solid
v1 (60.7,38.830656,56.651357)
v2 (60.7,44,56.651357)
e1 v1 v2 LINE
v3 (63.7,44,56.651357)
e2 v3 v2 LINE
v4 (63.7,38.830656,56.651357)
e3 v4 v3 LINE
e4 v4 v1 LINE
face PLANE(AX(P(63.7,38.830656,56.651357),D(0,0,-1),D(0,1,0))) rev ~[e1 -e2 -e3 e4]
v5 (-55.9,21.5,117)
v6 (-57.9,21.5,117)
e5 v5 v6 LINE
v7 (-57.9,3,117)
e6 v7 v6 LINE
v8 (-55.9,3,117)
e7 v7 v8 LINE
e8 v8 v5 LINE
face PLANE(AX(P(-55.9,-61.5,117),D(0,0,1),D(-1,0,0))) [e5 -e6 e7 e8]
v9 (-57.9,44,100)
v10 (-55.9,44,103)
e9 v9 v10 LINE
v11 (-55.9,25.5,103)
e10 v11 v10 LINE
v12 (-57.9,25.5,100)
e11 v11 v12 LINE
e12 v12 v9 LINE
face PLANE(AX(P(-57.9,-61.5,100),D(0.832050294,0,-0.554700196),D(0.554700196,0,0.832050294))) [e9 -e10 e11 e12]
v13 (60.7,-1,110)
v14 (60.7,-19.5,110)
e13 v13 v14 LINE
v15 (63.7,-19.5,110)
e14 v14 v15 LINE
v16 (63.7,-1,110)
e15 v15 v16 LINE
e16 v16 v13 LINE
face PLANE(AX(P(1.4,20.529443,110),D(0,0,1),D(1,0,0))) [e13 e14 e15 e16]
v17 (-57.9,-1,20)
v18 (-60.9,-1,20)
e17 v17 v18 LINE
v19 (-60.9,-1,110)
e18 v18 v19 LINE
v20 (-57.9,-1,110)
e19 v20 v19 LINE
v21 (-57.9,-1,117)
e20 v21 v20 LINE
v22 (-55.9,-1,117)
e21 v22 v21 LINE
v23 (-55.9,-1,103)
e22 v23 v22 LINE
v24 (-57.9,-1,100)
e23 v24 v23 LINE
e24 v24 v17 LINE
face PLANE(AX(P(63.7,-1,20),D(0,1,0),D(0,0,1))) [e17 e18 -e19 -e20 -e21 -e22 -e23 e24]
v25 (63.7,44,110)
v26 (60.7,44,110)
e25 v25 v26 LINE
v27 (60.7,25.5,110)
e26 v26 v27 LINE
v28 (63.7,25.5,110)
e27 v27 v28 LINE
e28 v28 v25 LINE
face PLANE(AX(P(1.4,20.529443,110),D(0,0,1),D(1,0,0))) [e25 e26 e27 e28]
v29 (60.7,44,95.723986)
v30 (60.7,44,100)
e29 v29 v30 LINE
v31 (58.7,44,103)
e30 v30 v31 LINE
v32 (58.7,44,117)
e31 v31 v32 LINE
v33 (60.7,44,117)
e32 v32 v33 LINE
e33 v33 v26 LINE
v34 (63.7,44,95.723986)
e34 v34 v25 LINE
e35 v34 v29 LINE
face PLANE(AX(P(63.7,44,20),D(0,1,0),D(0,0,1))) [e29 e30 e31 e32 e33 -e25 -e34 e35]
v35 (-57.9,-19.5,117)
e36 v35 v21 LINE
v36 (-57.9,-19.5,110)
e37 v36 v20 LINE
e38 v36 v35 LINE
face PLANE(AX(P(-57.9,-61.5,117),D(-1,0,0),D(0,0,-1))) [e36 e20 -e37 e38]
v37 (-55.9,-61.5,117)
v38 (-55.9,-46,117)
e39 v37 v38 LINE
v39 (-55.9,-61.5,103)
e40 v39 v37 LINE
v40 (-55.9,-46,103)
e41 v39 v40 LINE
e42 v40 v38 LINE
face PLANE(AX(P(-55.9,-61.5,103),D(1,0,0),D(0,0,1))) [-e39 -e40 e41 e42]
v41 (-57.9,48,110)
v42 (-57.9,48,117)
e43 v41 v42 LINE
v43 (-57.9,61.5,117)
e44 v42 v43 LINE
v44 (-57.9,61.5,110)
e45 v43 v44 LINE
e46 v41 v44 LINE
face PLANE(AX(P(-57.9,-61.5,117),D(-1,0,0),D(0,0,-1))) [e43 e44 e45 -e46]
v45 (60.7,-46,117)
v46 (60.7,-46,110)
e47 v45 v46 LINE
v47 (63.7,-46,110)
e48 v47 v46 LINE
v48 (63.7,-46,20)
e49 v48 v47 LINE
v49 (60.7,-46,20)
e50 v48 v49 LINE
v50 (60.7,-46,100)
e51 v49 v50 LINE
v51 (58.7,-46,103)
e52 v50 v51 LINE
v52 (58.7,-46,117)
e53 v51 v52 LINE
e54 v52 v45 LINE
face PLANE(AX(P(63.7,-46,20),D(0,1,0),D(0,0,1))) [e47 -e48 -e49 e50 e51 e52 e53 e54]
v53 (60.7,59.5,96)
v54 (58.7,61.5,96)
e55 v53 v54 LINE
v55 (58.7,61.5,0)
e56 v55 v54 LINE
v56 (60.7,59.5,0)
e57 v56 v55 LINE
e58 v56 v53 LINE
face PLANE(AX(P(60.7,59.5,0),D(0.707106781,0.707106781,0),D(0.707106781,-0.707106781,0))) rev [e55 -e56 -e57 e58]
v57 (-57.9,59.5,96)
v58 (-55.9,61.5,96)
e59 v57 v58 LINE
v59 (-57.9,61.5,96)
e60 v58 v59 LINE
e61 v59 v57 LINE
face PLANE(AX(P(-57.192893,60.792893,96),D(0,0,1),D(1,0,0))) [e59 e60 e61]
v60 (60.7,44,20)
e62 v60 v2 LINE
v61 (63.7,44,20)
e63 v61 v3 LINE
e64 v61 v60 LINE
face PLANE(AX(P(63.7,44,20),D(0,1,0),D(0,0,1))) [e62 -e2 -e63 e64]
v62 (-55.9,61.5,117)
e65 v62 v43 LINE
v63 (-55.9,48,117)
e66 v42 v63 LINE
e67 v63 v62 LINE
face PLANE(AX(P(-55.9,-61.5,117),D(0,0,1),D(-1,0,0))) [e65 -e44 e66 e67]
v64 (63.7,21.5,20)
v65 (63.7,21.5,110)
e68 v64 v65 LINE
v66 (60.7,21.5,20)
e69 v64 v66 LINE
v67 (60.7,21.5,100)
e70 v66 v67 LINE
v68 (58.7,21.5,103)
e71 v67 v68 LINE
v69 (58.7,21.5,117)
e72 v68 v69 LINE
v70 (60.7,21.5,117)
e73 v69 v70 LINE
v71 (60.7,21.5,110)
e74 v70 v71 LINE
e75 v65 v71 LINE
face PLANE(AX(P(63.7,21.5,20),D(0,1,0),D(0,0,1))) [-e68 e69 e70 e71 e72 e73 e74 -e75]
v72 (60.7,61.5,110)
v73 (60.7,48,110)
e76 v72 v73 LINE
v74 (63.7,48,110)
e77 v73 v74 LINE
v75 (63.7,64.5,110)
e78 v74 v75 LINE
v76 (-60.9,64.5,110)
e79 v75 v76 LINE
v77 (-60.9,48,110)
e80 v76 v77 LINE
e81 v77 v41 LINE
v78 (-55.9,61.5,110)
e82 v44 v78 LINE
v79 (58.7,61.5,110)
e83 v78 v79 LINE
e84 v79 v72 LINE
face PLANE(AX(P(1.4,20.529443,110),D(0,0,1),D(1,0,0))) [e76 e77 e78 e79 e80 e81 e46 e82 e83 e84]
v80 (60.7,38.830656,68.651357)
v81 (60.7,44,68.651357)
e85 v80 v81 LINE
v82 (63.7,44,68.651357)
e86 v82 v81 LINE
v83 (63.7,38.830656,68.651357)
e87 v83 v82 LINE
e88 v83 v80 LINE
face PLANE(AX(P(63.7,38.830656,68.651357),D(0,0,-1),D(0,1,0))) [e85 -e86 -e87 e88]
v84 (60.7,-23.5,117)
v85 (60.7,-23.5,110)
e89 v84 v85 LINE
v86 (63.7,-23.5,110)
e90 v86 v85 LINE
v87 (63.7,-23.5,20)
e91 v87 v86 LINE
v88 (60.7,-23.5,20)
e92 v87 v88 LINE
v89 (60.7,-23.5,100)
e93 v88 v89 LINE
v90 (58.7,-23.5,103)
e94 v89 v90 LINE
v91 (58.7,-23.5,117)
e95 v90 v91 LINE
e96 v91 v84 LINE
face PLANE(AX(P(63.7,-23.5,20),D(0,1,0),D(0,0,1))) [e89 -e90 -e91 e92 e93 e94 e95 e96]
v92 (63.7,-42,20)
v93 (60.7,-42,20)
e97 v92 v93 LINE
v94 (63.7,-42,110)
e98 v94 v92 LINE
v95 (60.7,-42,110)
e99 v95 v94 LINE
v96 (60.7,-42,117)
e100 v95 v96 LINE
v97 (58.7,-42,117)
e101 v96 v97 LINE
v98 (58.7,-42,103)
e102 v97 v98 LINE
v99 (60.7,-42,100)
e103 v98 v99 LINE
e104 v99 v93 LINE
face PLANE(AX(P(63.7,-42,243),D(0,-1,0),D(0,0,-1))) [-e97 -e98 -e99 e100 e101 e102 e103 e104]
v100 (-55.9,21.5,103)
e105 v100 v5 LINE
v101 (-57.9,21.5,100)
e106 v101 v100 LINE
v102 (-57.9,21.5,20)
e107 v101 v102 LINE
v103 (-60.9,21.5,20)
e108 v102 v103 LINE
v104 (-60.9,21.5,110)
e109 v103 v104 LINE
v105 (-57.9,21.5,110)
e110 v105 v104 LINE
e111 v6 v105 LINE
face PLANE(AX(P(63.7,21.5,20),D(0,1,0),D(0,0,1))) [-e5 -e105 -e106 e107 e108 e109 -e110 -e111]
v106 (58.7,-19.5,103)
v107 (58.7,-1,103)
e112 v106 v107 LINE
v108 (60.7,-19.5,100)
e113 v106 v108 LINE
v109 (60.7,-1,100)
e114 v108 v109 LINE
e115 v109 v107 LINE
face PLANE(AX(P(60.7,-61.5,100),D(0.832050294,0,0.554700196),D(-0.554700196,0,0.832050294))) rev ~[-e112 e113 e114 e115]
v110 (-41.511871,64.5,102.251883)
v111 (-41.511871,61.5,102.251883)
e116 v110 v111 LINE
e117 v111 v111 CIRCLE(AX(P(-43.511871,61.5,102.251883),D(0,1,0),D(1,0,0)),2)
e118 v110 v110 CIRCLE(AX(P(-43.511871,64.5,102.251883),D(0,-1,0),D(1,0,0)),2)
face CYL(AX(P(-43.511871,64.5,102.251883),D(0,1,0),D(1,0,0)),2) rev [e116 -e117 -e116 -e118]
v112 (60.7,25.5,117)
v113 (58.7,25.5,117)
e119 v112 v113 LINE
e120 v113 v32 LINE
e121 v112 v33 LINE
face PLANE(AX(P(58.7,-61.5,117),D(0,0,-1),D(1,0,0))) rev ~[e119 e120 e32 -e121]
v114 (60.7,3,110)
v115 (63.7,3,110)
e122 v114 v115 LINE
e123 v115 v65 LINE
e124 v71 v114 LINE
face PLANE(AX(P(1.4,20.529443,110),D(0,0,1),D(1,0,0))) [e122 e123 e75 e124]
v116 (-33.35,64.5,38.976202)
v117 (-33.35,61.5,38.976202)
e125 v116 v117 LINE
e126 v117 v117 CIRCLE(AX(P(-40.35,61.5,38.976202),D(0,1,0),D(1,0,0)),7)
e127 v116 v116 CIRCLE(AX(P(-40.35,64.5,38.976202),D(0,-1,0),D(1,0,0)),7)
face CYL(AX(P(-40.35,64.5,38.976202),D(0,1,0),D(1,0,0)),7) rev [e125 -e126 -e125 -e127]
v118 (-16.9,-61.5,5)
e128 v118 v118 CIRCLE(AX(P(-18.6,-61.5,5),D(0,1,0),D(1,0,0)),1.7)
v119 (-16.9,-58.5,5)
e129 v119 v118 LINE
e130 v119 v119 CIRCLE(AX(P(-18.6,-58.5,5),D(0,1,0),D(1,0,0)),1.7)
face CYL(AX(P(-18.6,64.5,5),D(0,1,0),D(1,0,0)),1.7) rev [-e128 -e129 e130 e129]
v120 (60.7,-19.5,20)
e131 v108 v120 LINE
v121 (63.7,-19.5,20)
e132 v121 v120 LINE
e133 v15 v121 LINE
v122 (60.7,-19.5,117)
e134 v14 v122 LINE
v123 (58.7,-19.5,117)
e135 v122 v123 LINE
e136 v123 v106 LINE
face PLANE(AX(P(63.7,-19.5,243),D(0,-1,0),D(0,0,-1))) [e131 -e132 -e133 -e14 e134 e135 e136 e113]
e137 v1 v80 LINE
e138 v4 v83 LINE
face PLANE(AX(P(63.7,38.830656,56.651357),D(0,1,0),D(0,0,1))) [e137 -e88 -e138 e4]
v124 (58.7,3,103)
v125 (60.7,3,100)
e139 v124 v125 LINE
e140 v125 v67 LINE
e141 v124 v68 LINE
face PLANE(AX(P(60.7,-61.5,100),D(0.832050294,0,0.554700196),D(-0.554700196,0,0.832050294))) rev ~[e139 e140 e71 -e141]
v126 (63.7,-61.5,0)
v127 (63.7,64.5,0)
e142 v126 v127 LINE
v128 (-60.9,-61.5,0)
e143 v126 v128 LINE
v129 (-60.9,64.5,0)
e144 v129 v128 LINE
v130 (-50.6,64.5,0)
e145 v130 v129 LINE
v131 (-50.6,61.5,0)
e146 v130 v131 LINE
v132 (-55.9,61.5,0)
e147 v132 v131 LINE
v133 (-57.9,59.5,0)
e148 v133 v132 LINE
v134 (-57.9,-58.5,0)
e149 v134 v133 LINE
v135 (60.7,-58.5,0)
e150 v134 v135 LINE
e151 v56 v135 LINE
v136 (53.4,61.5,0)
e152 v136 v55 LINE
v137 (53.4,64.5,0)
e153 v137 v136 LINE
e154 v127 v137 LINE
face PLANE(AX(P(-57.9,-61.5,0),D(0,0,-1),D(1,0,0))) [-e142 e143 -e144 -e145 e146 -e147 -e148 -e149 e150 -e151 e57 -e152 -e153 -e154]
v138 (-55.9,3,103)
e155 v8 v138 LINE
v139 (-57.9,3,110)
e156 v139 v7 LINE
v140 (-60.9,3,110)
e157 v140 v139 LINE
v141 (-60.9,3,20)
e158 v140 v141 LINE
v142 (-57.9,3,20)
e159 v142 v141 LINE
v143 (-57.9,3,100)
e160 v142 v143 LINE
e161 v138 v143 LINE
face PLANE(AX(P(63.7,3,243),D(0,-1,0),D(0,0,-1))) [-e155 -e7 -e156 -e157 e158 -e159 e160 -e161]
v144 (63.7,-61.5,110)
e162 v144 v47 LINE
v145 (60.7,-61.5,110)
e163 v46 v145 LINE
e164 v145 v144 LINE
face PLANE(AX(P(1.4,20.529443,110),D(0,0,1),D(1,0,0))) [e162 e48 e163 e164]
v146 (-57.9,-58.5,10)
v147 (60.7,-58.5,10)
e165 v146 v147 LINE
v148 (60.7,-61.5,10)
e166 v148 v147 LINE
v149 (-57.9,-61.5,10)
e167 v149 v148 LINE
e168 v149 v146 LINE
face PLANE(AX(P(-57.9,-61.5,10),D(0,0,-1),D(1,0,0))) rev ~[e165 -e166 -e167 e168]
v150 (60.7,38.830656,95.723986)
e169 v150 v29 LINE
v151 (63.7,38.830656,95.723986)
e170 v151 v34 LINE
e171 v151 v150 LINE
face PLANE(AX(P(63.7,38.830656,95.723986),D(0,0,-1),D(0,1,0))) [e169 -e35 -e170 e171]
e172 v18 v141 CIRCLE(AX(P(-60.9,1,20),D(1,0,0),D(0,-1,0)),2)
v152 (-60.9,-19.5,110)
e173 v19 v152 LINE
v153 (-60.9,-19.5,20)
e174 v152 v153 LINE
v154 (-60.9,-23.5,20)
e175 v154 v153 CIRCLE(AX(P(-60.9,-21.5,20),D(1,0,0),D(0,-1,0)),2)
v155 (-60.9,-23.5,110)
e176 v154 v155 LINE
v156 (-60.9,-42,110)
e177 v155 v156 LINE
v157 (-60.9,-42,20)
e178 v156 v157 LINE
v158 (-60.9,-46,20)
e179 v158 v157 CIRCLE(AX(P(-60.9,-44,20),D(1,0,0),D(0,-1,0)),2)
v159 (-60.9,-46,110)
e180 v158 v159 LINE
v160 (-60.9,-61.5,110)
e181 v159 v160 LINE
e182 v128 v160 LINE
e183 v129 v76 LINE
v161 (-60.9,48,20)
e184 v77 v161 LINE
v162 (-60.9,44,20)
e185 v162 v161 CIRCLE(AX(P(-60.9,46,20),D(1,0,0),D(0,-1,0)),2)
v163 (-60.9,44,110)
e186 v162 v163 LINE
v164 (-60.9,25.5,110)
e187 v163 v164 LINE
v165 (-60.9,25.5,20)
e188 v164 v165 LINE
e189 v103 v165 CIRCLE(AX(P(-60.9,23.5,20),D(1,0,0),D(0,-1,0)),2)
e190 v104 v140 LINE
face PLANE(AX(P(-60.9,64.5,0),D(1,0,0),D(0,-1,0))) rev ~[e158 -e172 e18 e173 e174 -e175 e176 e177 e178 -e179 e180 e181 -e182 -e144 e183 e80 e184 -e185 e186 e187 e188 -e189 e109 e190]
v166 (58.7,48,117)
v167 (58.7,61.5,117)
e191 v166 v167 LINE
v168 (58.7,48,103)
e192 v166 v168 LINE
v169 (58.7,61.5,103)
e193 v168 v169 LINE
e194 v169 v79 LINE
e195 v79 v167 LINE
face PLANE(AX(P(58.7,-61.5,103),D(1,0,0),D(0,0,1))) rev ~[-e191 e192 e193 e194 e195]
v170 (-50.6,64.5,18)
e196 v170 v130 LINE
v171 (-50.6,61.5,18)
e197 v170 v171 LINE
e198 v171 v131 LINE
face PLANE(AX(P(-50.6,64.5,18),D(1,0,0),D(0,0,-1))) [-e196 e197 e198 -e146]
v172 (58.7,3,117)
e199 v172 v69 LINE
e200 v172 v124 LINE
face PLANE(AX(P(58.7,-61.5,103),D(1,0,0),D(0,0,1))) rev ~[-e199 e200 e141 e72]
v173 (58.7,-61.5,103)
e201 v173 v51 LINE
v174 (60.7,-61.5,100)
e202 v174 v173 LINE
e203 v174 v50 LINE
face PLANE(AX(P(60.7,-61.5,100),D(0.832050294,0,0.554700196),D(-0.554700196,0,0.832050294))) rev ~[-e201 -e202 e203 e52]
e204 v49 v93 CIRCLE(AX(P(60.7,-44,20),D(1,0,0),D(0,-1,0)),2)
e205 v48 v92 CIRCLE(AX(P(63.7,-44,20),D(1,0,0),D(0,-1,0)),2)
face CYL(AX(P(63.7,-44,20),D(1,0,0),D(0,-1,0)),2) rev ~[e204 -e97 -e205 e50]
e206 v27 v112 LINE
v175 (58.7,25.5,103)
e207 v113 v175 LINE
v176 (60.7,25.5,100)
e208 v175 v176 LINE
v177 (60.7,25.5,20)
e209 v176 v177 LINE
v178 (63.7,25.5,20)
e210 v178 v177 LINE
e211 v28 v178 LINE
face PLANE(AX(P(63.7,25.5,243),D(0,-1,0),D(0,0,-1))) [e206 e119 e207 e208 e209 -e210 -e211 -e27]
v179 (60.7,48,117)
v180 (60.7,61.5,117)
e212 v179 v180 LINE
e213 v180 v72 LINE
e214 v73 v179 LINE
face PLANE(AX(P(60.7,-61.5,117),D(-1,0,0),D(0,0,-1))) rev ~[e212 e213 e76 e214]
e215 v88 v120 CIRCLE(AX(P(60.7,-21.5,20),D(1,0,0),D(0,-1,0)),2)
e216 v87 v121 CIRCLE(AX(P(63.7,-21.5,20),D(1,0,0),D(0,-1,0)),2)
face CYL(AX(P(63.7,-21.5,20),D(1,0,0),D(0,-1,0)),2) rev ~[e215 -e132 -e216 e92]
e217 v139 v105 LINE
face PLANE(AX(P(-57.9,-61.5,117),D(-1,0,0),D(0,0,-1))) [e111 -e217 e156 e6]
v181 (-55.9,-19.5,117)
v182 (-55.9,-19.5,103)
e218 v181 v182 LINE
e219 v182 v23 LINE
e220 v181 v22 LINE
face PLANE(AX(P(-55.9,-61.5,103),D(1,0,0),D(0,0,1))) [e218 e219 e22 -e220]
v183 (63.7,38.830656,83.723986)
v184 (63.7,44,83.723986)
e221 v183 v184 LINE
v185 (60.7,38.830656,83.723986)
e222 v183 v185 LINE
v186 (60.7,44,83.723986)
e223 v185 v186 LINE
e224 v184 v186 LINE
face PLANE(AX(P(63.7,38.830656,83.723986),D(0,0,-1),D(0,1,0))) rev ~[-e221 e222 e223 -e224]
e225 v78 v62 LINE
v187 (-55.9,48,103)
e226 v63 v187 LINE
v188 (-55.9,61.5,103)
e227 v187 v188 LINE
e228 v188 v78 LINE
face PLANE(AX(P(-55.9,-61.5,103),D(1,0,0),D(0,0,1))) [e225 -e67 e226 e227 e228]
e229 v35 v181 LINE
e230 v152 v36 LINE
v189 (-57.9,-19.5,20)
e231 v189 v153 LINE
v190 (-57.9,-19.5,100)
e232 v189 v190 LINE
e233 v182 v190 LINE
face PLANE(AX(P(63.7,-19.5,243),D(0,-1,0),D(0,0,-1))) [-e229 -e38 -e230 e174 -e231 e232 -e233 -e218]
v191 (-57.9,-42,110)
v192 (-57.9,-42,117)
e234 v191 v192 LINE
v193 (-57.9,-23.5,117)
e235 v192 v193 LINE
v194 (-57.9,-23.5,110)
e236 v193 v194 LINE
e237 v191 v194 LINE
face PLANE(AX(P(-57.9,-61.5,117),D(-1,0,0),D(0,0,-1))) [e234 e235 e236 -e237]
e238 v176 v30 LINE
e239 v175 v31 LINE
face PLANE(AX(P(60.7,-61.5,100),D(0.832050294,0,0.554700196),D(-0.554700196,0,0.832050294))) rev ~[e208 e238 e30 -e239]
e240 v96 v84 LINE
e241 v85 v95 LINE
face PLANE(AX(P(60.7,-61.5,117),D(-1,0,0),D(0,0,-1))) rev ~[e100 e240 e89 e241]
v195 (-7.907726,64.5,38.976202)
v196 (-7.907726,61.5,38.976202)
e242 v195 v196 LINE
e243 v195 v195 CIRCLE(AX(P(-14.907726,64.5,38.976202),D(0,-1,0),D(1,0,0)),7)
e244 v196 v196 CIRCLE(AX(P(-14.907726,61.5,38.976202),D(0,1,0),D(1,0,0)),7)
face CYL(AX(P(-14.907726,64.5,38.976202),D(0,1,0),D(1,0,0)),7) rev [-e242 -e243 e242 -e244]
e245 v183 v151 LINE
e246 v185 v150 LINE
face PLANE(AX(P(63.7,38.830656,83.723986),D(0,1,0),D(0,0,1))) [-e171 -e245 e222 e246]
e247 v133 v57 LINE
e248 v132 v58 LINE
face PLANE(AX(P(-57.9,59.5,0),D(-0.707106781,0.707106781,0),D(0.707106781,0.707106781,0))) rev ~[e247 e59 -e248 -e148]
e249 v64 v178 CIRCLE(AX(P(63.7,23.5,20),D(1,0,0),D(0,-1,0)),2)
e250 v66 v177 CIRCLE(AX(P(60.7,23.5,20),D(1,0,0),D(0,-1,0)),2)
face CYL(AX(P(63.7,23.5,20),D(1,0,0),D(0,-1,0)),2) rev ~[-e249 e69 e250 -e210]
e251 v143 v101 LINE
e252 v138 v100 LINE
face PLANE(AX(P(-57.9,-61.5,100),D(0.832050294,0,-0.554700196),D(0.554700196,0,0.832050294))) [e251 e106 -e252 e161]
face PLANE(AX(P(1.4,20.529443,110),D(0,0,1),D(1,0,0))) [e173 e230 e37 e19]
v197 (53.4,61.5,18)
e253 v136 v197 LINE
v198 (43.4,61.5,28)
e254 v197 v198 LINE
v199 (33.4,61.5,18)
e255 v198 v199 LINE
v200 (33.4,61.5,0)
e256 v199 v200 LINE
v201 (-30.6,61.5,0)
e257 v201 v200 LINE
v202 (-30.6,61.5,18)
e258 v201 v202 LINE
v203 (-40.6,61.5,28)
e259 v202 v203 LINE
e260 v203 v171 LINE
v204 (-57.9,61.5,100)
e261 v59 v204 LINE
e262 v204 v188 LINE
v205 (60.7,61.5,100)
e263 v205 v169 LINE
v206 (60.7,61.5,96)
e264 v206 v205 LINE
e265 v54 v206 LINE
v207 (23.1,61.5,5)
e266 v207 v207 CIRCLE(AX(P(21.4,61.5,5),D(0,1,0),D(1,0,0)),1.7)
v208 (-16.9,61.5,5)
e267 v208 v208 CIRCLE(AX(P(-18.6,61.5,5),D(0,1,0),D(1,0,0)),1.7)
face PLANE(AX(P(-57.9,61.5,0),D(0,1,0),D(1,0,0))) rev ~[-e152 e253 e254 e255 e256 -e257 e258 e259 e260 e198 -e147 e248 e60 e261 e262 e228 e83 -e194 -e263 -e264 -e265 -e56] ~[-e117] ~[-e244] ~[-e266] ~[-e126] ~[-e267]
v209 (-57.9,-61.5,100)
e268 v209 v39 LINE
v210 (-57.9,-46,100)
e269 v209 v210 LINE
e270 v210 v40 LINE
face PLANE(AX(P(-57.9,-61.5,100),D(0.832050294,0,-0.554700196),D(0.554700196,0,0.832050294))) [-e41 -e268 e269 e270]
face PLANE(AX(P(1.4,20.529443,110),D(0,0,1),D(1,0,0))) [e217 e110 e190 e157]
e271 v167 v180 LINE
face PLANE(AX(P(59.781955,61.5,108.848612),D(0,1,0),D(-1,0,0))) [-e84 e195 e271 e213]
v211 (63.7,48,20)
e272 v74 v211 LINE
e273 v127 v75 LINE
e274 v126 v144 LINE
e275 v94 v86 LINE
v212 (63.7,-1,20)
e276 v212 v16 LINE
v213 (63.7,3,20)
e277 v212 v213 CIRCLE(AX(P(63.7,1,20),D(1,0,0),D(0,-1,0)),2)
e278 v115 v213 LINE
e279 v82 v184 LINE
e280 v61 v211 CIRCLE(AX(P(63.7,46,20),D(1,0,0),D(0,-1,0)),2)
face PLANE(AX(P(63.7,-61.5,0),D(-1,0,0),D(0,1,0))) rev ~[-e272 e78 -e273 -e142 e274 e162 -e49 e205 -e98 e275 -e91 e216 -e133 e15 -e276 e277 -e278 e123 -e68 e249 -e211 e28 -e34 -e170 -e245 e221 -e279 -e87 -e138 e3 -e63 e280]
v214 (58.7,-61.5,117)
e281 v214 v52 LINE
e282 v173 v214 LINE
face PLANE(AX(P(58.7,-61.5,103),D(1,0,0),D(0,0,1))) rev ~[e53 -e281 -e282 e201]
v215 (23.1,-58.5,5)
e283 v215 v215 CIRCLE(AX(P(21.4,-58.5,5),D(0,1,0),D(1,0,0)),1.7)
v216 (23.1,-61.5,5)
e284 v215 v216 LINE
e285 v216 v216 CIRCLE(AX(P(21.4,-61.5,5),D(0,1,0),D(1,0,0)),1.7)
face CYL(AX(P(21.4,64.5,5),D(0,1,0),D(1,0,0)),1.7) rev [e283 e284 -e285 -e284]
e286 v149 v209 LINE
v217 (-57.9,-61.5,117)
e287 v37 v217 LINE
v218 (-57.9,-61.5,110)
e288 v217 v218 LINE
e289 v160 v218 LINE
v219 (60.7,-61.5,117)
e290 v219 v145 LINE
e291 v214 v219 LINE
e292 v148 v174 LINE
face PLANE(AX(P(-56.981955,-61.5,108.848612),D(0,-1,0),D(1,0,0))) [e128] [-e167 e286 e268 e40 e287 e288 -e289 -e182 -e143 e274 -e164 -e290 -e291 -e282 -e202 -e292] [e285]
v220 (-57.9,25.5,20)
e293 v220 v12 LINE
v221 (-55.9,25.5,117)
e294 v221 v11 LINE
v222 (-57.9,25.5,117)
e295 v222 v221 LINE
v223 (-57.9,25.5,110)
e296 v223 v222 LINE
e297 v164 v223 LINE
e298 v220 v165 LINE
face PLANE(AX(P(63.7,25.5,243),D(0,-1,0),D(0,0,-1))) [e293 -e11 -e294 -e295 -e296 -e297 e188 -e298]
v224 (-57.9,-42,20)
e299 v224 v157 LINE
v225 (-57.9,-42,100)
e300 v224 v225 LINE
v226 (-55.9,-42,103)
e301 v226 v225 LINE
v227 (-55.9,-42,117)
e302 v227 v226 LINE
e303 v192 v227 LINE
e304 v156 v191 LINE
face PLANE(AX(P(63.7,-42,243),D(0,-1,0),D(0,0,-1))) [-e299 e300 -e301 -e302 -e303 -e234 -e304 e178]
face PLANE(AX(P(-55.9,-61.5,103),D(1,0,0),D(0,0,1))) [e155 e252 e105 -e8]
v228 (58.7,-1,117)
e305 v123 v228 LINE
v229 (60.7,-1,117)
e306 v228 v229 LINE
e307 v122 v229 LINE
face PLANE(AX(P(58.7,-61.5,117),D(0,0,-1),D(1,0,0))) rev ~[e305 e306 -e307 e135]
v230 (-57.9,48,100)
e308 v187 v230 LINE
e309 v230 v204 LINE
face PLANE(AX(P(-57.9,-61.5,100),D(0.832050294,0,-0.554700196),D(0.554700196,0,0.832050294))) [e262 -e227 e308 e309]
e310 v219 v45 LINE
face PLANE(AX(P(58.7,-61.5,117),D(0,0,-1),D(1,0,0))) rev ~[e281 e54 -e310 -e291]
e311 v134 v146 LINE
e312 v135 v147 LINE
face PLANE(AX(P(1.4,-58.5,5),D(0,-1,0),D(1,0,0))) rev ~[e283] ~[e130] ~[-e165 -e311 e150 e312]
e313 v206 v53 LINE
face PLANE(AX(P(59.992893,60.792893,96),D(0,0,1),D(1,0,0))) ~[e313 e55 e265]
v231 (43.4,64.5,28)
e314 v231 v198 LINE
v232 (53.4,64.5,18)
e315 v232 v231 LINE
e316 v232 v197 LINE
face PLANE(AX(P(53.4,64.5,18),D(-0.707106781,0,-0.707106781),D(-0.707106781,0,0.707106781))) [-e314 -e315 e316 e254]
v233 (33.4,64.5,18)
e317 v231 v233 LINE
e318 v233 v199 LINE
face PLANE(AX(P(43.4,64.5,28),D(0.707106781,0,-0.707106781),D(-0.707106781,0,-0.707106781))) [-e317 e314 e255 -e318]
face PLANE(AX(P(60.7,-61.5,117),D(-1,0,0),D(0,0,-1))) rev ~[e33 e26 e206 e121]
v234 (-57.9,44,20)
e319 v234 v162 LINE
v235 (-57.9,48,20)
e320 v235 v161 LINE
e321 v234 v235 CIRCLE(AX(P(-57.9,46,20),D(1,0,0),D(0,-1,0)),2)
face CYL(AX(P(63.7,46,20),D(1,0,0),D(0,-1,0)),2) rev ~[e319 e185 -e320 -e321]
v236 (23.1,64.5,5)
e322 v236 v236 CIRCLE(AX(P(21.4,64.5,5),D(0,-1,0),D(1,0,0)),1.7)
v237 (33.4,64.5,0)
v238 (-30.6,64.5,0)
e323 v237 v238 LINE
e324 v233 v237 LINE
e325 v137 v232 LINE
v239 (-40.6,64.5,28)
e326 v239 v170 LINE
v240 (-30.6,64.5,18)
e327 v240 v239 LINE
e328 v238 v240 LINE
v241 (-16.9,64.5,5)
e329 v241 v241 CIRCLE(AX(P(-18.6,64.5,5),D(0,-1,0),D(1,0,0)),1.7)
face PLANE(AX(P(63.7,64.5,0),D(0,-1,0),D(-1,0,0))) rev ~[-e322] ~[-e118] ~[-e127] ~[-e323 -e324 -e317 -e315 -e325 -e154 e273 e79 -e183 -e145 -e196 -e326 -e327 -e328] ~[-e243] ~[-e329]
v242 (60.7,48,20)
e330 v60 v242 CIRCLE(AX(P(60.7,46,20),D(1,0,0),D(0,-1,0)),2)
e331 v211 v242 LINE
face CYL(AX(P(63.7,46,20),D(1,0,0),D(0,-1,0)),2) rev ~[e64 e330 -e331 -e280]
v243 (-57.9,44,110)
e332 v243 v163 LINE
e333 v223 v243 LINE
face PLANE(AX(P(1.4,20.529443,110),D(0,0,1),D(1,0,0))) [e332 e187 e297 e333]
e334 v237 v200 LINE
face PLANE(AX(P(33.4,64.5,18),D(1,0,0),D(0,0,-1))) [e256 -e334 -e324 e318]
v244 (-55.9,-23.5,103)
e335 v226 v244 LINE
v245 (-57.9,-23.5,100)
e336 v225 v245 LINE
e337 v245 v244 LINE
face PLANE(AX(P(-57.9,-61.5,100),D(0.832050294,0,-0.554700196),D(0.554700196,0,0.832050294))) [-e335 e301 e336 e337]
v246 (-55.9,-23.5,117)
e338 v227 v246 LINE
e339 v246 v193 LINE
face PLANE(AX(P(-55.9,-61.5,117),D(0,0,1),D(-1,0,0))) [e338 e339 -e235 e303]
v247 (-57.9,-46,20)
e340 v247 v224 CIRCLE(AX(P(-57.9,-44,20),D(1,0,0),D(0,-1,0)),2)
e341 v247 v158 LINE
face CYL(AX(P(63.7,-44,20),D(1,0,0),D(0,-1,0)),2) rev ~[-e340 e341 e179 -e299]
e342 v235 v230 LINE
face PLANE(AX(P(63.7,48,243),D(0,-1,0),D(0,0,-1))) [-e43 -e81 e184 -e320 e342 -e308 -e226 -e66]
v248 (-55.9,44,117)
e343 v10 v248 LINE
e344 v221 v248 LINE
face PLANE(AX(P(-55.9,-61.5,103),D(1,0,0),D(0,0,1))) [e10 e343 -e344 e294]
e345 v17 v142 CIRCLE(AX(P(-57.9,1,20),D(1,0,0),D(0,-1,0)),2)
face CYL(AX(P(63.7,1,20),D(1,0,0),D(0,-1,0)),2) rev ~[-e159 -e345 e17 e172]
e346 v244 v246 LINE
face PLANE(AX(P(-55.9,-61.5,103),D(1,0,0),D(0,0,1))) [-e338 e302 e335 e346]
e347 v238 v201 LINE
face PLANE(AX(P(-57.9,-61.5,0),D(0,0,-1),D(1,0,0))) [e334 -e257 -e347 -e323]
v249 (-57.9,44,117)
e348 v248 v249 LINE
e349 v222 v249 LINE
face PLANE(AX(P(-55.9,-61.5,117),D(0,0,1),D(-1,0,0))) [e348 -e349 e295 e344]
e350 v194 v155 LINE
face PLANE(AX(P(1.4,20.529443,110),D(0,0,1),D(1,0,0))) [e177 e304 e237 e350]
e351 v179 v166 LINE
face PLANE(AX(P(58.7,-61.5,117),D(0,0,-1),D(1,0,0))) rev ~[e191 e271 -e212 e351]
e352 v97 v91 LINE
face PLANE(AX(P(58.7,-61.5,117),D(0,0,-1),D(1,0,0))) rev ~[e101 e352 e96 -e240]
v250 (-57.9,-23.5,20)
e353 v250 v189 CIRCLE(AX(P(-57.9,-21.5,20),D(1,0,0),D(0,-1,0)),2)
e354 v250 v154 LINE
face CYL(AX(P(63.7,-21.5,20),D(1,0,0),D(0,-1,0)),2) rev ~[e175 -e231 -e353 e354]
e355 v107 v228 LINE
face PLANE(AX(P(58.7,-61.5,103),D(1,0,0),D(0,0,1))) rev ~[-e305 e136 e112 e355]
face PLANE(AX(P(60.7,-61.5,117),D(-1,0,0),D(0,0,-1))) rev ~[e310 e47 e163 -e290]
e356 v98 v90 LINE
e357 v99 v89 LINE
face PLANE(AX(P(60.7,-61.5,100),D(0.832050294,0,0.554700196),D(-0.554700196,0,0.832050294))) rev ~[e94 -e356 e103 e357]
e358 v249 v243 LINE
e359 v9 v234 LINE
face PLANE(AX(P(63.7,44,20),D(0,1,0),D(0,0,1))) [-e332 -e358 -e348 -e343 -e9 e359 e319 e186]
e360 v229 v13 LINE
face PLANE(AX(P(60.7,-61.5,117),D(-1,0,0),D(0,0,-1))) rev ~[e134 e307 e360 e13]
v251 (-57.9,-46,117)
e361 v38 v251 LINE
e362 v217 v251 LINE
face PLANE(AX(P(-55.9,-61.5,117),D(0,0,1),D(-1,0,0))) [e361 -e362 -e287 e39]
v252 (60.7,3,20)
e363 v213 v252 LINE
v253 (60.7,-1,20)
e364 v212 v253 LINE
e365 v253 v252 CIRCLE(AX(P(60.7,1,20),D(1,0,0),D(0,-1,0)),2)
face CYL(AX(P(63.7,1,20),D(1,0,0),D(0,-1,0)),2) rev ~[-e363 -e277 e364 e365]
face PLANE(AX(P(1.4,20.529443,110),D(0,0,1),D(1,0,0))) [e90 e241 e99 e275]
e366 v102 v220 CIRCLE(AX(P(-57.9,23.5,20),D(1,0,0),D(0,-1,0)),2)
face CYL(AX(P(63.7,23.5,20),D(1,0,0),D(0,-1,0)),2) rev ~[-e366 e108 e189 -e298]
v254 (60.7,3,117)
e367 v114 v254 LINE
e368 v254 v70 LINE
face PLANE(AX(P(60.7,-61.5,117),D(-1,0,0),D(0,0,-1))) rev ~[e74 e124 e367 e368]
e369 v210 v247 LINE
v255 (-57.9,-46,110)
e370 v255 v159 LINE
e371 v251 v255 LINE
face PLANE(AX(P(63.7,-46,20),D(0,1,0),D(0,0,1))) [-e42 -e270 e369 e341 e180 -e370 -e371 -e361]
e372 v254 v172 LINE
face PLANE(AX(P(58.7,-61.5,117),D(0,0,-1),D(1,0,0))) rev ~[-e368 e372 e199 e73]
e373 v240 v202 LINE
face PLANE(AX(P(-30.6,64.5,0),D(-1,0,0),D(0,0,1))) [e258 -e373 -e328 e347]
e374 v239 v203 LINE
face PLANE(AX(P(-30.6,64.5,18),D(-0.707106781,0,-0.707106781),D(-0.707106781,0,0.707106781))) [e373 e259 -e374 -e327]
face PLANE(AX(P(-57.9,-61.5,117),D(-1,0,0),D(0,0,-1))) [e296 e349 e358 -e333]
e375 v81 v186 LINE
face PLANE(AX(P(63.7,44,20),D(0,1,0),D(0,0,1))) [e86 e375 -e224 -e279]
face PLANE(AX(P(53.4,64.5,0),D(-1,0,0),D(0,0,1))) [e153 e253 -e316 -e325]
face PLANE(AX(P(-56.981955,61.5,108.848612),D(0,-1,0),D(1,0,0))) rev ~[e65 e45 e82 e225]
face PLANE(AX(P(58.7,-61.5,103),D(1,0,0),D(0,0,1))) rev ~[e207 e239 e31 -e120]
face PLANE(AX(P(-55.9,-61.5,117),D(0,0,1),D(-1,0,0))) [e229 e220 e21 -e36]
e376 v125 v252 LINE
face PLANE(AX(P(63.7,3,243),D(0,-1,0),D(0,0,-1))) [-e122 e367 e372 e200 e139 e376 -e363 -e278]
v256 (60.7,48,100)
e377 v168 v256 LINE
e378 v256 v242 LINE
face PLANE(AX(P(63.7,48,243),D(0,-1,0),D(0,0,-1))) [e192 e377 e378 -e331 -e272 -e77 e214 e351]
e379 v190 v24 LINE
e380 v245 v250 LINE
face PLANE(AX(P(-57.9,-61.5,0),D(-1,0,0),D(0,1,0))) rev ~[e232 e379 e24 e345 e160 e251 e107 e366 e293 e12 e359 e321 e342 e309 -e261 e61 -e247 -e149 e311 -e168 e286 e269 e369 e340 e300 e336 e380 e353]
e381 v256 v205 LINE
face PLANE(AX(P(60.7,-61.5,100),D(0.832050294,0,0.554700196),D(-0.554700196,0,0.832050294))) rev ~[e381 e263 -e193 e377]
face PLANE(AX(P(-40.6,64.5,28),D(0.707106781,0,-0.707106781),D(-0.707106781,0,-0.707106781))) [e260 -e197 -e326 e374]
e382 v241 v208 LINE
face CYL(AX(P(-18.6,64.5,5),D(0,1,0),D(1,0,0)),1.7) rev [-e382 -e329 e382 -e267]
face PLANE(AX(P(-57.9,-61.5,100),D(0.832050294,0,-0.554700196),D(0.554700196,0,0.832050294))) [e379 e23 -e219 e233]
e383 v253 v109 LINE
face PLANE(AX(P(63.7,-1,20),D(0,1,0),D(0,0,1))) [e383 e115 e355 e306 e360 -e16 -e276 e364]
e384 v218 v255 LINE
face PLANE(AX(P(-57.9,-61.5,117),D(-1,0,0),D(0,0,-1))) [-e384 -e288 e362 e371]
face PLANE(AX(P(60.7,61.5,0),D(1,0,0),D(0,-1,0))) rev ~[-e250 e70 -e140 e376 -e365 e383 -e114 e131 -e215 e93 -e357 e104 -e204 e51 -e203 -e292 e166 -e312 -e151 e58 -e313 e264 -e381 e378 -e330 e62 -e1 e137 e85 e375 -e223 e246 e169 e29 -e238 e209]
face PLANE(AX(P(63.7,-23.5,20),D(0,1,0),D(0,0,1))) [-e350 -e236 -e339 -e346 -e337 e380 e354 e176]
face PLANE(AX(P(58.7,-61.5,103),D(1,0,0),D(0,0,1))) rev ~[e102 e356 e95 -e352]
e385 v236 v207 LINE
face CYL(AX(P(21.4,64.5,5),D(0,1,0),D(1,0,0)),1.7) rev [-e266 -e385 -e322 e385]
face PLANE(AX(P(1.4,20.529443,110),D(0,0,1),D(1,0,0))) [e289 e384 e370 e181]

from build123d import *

# Parameters (mm, degrees)
PAD_DEPTH           = 110
PAD001_DEPTH        = 96
SKETCH003_W         = 118.6
SKETCH003_H         = 10
PAD002_DEPTH        = 3
PAD003_DEPTH        = 123
POCKET001_DEPTH     = 124.601
LINEARPATTERN_COUNT = 5
LINEARPATTERN_PITCH = 22.5
SKETCH012_W         = 6
SKETCH012_H         = 12
POCKET_DEPTH        = 5
SKETCH013_R         = 1.7
POCKET004_DEPTH     = 126.001
SKETCH014_R         = 7
SKETCH014_R_2       = 2
POCKET005_DEPTH     = 5


with BuildPart() as part:
    # Sketch → Pad (new body)
    with BuildSketch(Plane.XY):
        Polygon((62.3, 64.5), (-62.3, 64.5), (-62.3, -61.5), (-59.3, -61.5), (-59.3, 61.5), (59.3, 61.5), (59.3, -61.5), (62.3, -61.5), align=None)
    extrude(amount=PAD_DEPTH)

    # Sketch001 → Pad001 (join)
    with BuildSketch(Plane.XY):
        Polygon((-59.3, 59.5), (-57.3, 61.5), (-59.3, 61.5), align=None)
    pad001 = extrude(amount=PAD001_DEPTH)

    # Mirrored: Pad001 across YZ
    add(pad001.mirror(Plane.YZ))

    # Sketch003 (on DatumPlane) → Pad002 (join)
    with BuildSketch(Plane.XZ.offset(61.5)):
        with Locations((0, 5)):
            Rectangle(SKETCH003_W, SKETCH003_H)
    extrude(amount=-PAD002_DEPTH)

    # Sketch004 (on DatumPlane) → Pad003 (join)
    with BuildSketch(Plane.XZ.offset(61.5)):
        Polygon((-57.3, 117), (-59.3, 117), (-59.3, 100), (-57.3, 103), align=None)
        Polygon((57.3, 103), (57.3, 117), (59.3, 117), (59.3, 100), align=None)
    extrude(amount=-PAD003_DEPTH)

    # Sketch009 (on DatumPlane) → Pocket001 (cut, through all)
    with BuildSketch(Plane.YZ.offset(62.3)):
        with BuildLine():
            Line((-46, 20), (-46, 243))
            ThreePointArc((-42, 243), (-44, 245), (-46, 243))
            Line((-42, 243), (-42, 20))
            ThreePointArc((-46, 20), (-44, 18), (-42, 20))
        make_face()
    pocket001 = extrude(amount=-POCKET001_DEPTH, mode=Mode.SUBTRACT)

    # LinearPattern: Pocket001 ×5
    with Locations(*[(0, i * LINEARPATTERN_PITCH, 0) for i in range(1, LINEARPATTERN_COUNT)]):
        add(pocket001, mode=Mode.SUBTRACT)

    # Sketch012 (on DatumPlane) → Pocket (cut)
    with BuildSketch(Plane.YZ.offset(62.3)):
        with Locations((41.830656, 89.723986)):
            Rectangle(SKETCH012_W, SKETCH012_H)
        with Locations((41.830656, 62.651357)):
            Rectangle(SKETCH012_W, SKETCH012_H)
    extrude(amount=-POCKET_DEPTH, mode=Mode.SUBTRACT)

    # Sketch013 (on DatumPlane) → Pocket004 (cut, through all)
    with BuildSketch(Plane.XZ.offset(-64.5)):
        with Locations((20, 5)):
            Circle(SKETCH013_R)
        with Locations((-20, 5)):
            Circle(SKETCH013_R)
    extrude(amount=POCKET004_DEPTH, mode=Mode.SUBTRACT)

    # Sketch014 (on DatumPlane) → Pocket005 (cut)
    with BuildSketch(Plane.XZ.offset(-64.5)):
        with Locations((-16.307726, 38.976202)):
            Circle(SKETCH014_R)
        with Locations((-41.75, 38.976202)):
            Circle(SKETCH014_R)
        with Locations((-44.911871, 102.251883)):
            Circle(SKETCH014_R_2)
        Polygon((32, 0), (52, 0), (52, 18), (42, 28), (32, 18), align=None)
        Polygon((-52, 0), (-32, 0), (-32, 18), (-42, 28), (-52, 18), align=None)
    extrude(amount=POCKET005_DEPTH, mode=Mode.SUBTRACT)


with BuildPart() as part_1:
    # Body placement: moved
    add(part.part.moved(Location((1.4, 0, 0))))


solid = part_1.part
